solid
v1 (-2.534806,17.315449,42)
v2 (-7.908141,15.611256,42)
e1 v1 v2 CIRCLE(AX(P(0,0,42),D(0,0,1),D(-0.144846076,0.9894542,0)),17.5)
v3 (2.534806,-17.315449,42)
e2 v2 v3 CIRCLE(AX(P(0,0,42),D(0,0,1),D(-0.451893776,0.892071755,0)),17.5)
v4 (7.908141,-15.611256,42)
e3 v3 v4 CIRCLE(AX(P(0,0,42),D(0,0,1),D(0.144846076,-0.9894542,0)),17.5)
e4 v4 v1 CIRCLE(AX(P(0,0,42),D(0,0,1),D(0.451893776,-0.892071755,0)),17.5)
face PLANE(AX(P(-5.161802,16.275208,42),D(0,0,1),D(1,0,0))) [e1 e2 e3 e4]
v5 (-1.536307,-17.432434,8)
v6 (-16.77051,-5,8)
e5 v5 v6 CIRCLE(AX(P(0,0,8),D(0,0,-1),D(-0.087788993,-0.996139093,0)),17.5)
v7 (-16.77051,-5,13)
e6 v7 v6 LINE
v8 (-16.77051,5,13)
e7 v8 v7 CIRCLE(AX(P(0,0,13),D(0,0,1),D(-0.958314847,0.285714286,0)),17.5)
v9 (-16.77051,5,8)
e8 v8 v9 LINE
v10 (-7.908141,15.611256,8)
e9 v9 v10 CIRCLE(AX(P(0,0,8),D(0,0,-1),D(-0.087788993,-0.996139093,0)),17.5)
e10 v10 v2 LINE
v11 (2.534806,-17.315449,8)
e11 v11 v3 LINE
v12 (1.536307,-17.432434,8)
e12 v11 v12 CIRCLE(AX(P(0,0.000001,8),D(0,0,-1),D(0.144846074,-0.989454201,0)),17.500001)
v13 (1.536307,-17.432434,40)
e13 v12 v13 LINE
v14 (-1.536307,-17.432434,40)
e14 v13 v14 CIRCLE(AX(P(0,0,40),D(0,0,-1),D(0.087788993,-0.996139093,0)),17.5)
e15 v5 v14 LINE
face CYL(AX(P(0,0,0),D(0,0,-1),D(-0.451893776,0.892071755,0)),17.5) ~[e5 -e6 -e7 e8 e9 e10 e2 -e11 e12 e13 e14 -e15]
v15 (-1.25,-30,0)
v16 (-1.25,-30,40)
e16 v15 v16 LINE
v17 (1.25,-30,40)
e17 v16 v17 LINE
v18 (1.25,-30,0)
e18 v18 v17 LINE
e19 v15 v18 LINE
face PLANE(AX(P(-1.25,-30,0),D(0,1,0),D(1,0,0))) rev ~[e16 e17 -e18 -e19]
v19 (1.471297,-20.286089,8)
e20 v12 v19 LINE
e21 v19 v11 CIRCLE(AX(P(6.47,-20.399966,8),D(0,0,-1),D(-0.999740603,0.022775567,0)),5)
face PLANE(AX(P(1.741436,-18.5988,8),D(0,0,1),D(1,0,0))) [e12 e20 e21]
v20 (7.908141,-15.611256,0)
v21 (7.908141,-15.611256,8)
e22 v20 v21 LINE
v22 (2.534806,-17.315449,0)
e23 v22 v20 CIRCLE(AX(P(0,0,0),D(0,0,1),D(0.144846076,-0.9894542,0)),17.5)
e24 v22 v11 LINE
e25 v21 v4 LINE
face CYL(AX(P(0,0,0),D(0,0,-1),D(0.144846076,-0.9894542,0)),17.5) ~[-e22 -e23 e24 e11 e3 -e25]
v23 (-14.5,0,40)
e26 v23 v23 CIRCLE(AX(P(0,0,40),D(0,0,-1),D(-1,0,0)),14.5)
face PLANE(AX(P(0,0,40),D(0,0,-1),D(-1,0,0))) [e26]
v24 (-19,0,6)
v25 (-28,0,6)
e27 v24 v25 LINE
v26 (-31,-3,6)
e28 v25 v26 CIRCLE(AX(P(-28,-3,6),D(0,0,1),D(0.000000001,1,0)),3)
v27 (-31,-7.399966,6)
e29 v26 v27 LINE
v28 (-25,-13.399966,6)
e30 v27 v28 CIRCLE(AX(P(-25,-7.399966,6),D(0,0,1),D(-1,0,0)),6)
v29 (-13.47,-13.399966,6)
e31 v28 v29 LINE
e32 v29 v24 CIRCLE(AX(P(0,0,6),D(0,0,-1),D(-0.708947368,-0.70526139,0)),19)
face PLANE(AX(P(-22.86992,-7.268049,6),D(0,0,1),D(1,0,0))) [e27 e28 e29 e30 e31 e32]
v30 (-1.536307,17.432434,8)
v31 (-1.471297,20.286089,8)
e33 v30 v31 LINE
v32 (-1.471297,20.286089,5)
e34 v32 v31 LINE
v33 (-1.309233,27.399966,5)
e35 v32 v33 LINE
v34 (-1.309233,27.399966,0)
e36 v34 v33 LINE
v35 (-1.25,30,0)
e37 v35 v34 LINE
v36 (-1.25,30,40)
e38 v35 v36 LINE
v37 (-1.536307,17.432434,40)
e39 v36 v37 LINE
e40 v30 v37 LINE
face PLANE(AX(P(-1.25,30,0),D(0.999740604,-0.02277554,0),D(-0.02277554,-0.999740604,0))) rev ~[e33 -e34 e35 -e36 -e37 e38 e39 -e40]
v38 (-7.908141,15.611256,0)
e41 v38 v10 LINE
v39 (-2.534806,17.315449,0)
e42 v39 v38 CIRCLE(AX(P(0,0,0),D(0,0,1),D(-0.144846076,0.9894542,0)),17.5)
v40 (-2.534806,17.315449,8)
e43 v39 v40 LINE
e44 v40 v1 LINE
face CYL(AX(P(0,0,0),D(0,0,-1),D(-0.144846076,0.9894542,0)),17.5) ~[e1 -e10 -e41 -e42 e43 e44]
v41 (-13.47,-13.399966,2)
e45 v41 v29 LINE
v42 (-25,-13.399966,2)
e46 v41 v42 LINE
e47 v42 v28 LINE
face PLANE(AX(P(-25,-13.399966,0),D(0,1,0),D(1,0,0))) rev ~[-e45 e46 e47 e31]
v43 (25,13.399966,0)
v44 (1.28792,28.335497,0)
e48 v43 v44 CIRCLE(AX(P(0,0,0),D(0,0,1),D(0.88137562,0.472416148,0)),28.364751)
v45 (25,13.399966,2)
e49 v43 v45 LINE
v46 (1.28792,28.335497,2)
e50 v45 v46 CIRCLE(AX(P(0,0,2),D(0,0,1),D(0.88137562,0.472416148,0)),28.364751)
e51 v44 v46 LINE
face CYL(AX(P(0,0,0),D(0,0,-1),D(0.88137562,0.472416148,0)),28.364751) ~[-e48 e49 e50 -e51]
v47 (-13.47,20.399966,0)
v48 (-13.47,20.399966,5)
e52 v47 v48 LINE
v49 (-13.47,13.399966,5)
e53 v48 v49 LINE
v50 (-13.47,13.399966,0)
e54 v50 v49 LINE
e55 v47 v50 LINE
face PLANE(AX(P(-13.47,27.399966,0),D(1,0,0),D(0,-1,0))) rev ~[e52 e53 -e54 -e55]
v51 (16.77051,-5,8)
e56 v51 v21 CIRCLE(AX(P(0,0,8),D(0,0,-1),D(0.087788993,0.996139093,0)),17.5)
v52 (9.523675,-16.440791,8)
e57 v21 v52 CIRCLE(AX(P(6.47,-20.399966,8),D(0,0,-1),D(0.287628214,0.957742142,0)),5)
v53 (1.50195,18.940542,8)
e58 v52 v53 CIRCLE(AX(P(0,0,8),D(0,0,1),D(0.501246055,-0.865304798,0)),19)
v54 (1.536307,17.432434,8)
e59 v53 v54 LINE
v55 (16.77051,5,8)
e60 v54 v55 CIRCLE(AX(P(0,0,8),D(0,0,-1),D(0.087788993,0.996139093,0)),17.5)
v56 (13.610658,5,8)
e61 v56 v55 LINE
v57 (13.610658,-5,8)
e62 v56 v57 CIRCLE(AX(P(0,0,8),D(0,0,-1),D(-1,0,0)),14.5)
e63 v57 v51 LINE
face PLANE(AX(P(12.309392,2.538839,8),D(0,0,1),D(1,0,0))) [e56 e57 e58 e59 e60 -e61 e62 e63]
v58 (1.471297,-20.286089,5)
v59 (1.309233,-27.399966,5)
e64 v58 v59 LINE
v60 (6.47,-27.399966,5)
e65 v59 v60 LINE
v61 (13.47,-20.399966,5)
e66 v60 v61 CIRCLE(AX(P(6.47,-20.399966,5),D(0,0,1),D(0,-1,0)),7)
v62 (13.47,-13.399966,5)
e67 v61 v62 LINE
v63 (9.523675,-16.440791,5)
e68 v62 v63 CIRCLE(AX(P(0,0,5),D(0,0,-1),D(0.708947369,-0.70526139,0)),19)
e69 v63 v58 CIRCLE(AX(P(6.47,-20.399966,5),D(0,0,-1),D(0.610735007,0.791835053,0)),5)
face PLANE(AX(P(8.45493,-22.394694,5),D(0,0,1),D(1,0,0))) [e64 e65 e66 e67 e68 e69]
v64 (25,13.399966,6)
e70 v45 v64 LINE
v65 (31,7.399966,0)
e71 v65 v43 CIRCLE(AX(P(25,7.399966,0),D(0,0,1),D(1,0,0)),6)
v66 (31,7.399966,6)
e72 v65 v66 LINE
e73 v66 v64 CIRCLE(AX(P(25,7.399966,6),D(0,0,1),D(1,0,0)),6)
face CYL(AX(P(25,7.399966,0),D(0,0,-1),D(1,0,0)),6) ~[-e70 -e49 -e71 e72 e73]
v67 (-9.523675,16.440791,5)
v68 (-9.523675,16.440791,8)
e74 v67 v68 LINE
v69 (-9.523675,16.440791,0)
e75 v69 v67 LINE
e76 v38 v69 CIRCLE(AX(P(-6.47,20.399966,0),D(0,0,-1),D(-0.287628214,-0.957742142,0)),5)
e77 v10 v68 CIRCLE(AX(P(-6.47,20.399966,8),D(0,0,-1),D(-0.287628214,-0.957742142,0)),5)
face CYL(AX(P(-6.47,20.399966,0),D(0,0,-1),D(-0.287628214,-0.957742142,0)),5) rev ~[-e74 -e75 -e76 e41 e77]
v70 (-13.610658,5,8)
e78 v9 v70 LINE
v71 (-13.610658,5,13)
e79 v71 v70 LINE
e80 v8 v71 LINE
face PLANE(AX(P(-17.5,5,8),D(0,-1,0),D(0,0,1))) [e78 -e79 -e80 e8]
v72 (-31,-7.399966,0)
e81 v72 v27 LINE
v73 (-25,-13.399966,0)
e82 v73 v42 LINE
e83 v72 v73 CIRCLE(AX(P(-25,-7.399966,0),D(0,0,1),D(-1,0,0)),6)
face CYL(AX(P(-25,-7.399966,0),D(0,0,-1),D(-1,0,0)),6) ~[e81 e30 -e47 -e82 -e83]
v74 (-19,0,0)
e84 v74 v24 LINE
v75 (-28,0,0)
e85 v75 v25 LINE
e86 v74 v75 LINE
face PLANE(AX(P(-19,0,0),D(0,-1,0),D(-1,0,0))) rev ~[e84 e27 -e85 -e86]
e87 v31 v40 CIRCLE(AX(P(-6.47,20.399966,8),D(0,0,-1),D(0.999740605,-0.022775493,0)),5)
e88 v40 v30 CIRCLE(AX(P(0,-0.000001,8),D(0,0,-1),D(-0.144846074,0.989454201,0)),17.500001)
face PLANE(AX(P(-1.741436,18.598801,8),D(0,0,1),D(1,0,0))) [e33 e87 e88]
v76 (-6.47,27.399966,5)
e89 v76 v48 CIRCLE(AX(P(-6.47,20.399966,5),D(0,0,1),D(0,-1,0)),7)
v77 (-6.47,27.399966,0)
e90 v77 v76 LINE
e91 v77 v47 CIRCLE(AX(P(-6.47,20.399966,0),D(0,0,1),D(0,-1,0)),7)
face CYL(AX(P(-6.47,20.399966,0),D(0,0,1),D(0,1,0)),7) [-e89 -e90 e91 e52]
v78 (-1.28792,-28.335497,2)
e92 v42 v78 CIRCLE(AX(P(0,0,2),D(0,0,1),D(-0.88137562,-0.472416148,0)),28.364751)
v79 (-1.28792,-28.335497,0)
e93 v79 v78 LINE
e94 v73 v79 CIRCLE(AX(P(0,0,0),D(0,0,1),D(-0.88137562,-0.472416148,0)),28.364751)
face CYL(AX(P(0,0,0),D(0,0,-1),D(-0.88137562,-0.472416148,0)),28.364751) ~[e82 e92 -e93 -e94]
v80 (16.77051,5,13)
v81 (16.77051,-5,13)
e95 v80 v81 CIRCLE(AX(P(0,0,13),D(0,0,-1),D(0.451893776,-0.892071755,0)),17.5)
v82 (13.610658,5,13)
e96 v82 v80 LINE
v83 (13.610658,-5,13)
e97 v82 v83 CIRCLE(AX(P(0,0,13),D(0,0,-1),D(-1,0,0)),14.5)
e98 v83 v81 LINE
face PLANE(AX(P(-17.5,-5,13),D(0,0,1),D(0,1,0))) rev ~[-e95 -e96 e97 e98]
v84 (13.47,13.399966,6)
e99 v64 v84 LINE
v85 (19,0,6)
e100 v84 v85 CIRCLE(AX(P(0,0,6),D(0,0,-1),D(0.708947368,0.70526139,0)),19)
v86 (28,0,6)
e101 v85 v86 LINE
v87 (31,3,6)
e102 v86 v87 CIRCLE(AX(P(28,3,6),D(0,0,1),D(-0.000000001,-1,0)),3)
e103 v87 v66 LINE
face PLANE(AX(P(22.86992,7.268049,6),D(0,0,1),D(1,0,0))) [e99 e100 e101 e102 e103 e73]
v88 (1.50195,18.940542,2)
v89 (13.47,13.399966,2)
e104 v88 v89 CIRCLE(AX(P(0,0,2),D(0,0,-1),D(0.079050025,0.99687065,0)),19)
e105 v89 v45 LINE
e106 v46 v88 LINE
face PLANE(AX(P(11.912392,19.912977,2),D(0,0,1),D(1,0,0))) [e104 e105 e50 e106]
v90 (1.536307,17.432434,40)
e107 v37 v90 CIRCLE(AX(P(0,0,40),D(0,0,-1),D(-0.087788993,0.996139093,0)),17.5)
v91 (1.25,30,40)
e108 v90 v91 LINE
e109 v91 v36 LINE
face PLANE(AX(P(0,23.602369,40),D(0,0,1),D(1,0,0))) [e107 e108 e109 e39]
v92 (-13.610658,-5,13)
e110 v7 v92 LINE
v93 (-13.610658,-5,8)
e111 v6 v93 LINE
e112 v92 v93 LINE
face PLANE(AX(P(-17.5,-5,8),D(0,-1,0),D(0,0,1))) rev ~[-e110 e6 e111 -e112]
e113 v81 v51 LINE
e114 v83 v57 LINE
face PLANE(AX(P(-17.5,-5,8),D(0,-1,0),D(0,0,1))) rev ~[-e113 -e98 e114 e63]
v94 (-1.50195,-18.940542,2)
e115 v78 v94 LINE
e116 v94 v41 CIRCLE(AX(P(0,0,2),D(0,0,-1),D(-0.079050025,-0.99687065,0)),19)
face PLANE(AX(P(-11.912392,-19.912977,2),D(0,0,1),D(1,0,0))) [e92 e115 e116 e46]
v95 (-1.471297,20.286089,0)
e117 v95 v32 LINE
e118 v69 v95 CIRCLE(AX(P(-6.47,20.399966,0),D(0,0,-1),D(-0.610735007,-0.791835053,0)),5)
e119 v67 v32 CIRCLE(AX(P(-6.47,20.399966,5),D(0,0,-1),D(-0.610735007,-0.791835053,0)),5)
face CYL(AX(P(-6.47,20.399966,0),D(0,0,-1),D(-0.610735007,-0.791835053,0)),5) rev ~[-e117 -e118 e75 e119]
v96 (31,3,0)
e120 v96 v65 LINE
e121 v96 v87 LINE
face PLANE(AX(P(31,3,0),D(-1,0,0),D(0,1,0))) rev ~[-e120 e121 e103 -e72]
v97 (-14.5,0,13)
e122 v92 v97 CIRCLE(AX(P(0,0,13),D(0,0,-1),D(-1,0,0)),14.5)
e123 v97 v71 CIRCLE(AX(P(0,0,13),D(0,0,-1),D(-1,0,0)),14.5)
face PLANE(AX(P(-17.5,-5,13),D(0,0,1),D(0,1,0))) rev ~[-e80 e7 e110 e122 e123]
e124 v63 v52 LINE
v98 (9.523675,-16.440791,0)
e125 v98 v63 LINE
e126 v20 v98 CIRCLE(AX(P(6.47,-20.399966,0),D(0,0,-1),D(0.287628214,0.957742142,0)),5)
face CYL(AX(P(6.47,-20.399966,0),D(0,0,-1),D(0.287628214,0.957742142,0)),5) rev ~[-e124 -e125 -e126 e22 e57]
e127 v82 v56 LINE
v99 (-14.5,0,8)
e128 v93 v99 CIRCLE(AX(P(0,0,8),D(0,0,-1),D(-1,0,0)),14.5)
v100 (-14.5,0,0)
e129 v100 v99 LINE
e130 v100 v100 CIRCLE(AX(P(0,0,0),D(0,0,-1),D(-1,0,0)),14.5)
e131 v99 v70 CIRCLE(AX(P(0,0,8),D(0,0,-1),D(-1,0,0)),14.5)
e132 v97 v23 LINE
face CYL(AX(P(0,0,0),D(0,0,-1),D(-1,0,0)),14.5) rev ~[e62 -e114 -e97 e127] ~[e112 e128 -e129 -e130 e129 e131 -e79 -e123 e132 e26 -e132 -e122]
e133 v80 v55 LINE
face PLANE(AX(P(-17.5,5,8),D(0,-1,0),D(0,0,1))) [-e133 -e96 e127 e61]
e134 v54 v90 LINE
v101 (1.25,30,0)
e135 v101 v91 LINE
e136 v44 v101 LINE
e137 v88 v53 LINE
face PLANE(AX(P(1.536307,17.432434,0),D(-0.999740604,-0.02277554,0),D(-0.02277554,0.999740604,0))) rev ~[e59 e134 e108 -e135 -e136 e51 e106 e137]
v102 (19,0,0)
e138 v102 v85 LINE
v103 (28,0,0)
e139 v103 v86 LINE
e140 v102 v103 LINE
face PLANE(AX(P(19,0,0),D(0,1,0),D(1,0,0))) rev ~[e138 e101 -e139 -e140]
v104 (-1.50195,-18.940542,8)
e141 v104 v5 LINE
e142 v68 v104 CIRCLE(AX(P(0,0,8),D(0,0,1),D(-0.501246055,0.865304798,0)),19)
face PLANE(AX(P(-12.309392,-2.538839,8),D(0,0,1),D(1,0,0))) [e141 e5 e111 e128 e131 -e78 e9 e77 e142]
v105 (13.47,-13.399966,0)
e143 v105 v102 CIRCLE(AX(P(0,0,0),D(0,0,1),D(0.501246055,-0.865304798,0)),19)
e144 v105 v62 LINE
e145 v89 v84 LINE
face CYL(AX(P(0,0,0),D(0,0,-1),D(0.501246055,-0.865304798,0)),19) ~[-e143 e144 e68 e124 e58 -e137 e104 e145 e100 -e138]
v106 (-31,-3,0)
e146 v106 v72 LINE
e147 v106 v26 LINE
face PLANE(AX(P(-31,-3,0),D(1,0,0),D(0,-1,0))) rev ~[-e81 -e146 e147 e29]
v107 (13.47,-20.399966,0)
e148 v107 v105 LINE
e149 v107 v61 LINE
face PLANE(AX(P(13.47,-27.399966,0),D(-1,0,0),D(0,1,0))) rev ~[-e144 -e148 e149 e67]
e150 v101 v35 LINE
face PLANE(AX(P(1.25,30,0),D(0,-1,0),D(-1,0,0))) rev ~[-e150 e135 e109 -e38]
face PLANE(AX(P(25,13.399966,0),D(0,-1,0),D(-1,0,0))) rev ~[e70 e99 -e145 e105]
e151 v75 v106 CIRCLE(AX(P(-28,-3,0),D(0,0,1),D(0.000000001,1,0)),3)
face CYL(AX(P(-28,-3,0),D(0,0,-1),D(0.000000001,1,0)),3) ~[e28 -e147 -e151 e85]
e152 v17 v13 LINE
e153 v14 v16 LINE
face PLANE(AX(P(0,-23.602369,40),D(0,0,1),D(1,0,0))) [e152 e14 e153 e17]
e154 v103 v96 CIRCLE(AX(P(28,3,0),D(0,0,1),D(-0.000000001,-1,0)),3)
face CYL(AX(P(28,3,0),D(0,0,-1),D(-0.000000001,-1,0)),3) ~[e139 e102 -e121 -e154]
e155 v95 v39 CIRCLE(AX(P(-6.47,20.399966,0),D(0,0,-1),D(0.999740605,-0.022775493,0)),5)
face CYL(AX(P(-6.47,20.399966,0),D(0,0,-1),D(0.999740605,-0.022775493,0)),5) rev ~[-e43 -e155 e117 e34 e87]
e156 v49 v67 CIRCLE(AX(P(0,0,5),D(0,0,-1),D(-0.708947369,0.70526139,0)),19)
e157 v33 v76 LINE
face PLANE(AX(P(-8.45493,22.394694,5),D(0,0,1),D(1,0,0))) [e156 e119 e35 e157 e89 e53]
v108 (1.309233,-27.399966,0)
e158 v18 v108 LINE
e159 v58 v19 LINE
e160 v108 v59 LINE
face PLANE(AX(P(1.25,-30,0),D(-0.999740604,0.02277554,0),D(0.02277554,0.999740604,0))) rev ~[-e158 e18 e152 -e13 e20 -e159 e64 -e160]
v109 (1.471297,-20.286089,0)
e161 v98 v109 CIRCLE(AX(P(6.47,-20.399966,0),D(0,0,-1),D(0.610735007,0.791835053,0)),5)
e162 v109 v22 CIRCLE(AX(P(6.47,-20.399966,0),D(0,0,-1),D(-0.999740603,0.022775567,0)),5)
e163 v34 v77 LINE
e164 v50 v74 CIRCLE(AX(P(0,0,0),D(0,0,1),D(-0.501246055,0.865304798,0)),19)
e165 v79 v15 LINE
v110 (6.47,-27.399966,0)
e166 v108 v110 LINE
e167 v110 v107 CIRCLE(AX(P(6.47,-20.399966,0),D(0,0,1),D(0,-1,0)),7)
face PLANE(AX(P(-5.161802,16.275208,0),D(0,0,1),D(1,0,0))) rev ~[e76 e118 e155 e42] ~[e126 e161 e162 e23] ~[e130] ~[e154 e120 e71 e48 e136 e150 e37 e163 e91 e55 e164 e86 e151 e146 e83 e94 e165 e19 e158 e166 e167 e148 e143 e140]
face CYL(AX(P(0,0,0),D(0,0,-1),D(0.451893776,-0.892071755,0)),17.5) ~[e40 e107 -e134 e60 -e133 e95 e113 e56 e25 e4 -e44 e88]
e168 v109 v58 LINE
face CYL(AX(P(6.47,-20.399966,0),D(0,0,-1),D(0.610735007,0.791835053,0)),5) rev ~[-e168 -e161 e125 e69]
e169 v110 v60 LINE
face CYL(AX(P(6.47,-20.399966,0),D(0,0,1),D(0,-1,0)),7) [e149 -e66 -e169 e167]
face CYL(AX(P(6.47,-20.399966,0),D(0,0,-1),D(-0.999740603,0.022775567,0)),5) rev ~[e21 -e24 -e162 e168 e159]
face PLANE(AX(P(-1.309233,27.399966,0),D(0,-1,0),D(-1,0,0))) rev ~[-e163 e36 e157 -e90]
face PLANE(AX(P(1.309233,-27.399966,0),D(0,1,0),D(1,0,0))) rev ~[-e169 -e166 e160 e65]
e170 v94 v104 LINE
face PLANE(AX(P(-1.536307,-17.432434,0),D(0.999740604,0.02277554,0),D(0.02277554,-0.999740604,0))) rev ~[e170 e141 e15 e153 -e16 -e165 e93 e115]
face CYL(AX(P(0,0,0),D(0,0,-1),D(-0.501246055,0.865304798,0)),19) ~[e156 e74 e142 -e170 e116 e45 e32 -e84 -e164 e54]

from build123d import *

# Parameters (mm, degrees)
BOSS_EXTRUDE1_DEPTH   = 5
BOSS_EXTRUDE1_2_DEPTH = 5
BOSS_EXTRUDE2_DEPTH   = 40
BOSS_EXTRUDE3_DEPTH   = 42
BOSS_EXTRUDE4_DEPTH   = 8
BOSS_EXTRUDE5_DEPTH   = 6
BOSS_EXTRUDE6_DEPTH   = 2
FILLET1_R             = 7
BOSS_EXTRUDE7_DEPTH   = 42
SKETCH2_R             = 14.5
CUT_EXTRUDE1_DEPTH    = 40
SKETCH3_W             = 5
SKETCH3_H             = 10
CUT_EXTRUDE2_DEPTH    = 40


with BuildPart() as part:
    # Sketch1 → Boss-Extrude1 (new body)
    with BuildSketch(Plane.XY):
        with BuildLine():
            Line((-13.47, 27.399966418), (-13.47, 13.399966418))
            ThreePointArc((-13.47, 13.399966418), (-11.596936091, 15.050284825), (-9.523675037, 16.440791154))
            ThreePointArc((-9.523675037, 16.440791154), (-8.624614178, 24.911910317), (-1.471296976, 20.286088952))
            Line((-1.471296976, 20.286088952), (-1.309232534, 27.399966418))
            Line((-1.309232534, 27.399966418), (-13.47, 27.399966418))
        make_face()
    extrude(amount=BOSS_EXTRUDE1_DEPTH)



with BuildPart() as body_2:
    # Sketch1 → Boss-Extrude1 2 (new body)
    with BuildSketch(Plane.XY):
        with BuildLine():
            Line((1.471296984, -20.286088587), (1.309232534, -27.399966418))
            Line((1.309232534, -27.399966418), (13.47, -27.399966418))
            Line((13.47, -27.399966418), (13.47, -13.399966418))
            ThreePointArc((13.47, -13.399966418), (11.596936091, -15.050284825), (9.523675037, -16.440791154))
            ThreePointArc((9.523675037, -16.440791154), (8.624614013, -24.911910395), (1.471296984, -20.286088587))
        make_face()
    extrude(amount=BOSS_EXTRUDE1_2_DEPTH)


with BuildPart() as part_1:
    add(part.part)

    add(body_2.part)  # Boss-Extrude2 merges body 2
    # Sketch1<3> → Boss-Extrude2 (add)
    with BuildSketch(Plane.XY):
        with BuildLine():
            Line((-1.25, 30), (-1.53630737, 17.432434129))
            ThreePointArc((-1.53630737, 17.432434129), (0, 17.5), (1.53630737, 17.432434129))
            Line((1.53630737, 17.432434129), (1.25, 30))
            Line((1.25, 30), (-1.25, 30))
        make_face()
        with BuildLine():
            Line((-1.53630737, -17.432434129), (-1.25, -30))
            Line((-1.25, -30), (1.25, -30))
            Line((1.25, -30), (1.53630737, -17.432434129))
            ThreePointArc((1.53630737, -17.432434129), (0, -17.5), (-1.53630737, -17.432434129))
        make_face()
    extrude(amount=BOSS_EXTRUDE2_DEPTH)

    # Sketch1<4> → Boss-Extrude3 (add)
    with BuildSketch(Plane.XY):
        with BuildLine():
            ThreePointArc((-7.908141071, 15.611255708), (-16.68113138, -5.290544005), (2.534806328, -17.315448504))
            ThreePointArc((2.534806328, -17.315448504), (4.958415999, -15.633928881), (7.908141071, -15.611255708))
            ThreePointArc((7.908141071, -15.611255708), (16.68113138, 5.290544005), (-2.534806328, 17.315448504))
            ThreePointArc((-2.534806328, 17.315448504), (-4.958415999, 15.633928881), (-7.908141071, 15.611255708))
        make_face()
    extrude(amount=BOSS_EXTRUDE3_DEPTH)

    # Sketch1<5> → Boss-Extrude4 (add)
    with BuildSketch(Plane.XY):
        with BuildLine():
            ThreePointArc((-9.523675037, 16.440791154), (-18.529727325, -4.201095719), (-1.501950478, -18.940542357))
            Line((-1.501950478, -18.940542357), (-1.53630737, -17.432434129))
            ThreePointArc((-1.53630737, -17.432434129), (-17.18344439, -3.313493457), (-7.908141071, 15.611255708))
            ThreePointArc((-7.908141071, 15.611255708), (-8.753885998, 15.952060759), (-9.523675037, 16.440791154))
        make_face()
        with BuildLine():
            ThreePointArc((-1.471296976, 20.286088952), (-1.76257993, 18.714678227), (-2.534806328, 17.315448504))
            ThreePointArc((-2.534806328, 17.315448504), (-2.036397087, 17.381112936), (-1.53630737, 17.432434129))
            Line((-1.53630737, 17.432434129), (-1.471296976, 20.286088952))
        make_face()
        with BuildLine():
            Line((1.501950478, 18.940542357), (1.53630737, 17.432434129))
            ThreePointArc((1.53630737, 17.432434129), (17.18344439, 3.313493457), (7.908141071, -15.611255708))
            ThreePointArc((7.908141071, -15.611255708), (8.753885998, -15.952060759), (9.523675037, -16.440791154))
            ThreePointArc((9.523675037, -16.440791154), (18.529727325, 4.201095719), (1.501950478, 18.940542357))
        make_face()
        with BuildLine():
            ThreePointArc((2.534806328, -17.315448504), (2.036397087, -17.381112936), (1.53630737, -17.432434129))
            Line((1.53630737, -17.432434129), (1.471296984, -20.286088587))
            ThreePointArc((1.471296984, -20.286088587), (1.762579992, -18.714678055), (2.534806328, -17.315448504))
        make_face()
    extrude(amount=BOSS_EXTRUDE4_DEPTH)

    # Sketch1<6> → Boss-Extrude5 (add)
    with BuildSketch(Plane.XY):
        with BuildLine():
            ThreePointArc((-13.47, -13.399966418), (-17.563171695, -7.2481032), (-19, 0))
            Line((-19, 0), (-28, 0))
            ThreePointArc((-28, 0), (-30.121320344, -0.878679656), (-31, -3))
            Line((-31, -3), (-31, -7.399966418))
            ThreePointArc((-31, -7.399966418), (-29.242640687, -11.642607105), (-25, -13.399966418))
            Line((-25, -13.399966418), (-13.47, -13.399966418))
        make_face()
        with BuildLine():
            Line((25, 13.399966418), (13.47, 13.399966418))
            ThreePointArc((13.47, 13.399966418), (17.563171695, 7.2481032), (19, 0))
            Line((19, 0), (28, 0))
            ThreePointArc((28, 0), (30.121320344, 0.878679656), (31, 3))
            Line((31, 3), (31, 7.399966418))
            ThreePointArc((31, 7.399966418), (29.242640687, 11.642607105), (25, 13.399966418))
        make_face()
    extrude(amount=BOSS_EXTRUDE5_DEPTH)

    # Sketch1<7> → Boss-Extrude6 (add)
    with BuildSketch(Plane.XY):
        with BuildLine():
            ThreePointArc((-1.501950478, -18.940542357), (-7.982125075, -17.241974344), (-13.47, -13.399966418))
            Line((-13.47, -13.399966418), (-25, -13.399966418))
            ThreePointArc((-25, -13.399966418), (-15.117248317, -24.000581312), (-1.287919802, -28.335496512))
            Line((-1.287919802, -28.335496512), (-1.501950478, -18.940542357))
        make_face()
        with BuildLine():
            Line((1.287919802, 28.335496512), (1.501950478, 18.940542357))
            ThreePointArc((1.501950478, 18.940542357), (7.982125075, 17.241974344), (13.47, 13.399966418))
            Line((13.47, 13.399966418), (25, 13.399966418))
            ThreePointArc((25, 13.399966418), (15.117248317, 24.000581312), (1.287919802, 28.335496512))
        make_face()
    extrude(amount=BOSS_EXTRUDE6_DEPTH)

    # Fillet1
    fillet1_edges = [part_1.edges().sort_by_distance(p)[0] for p in [
        (13.47, -27.399966418, 2.5),
        (-13.47, 27.399966418, 2.5),
    ]]
    fillet(fillet1_edges, radius=FILLET1_R)

    # Sketch1<8> → Boss-Extrude7 (add)
    with BuildSketch(Plane.XY):
        with BuildLine():
            ThreePointArc((-2.534806328, 17.315448504), (-5.290544005, 16.68113138), (-7.908141071, 15.611255708))
            ThreePointArc((-7.908141071, 15.611255708), (-4.958415999, 15.633928881), (-2.534806328, 17.315448504))
        make_face()
        with BuildLine():
            ThreePointArc((7.908141071, -15.611255708), (4.958415999, -15.633928881), (2.534806328, -17.315448504))
            ThreePointArc((2.534806328, -17.315448504), (5.290544005, -16.68113138), (7.908141071, -15.611255708))
        make_face()
    extrude(amount=BOSS_EXTRUDE7_DEPTH)

    # Sketch2 → Cut-Extrude1 (cut)
    with BuildSketch(Plane(origin=(0, 0, 0), x_dir=(-1, 0, 0), z_dir=(0, 0, -1))):
        Circle(SKETCH2_R)
    extrude(amount=-CUT_EXTRUDE1_DEPTH, mode=Mode.SUBTRACT)

    # Sketch3 → Cut-Extrude2 (cut)
    with BuildSketch(Plane.ZY.offset(17.5)):
        with Locations((10.5, 0)):
            Rectangle(SKETCH3_W, SKETCH3_H)
    extrude(amount=-CUT_EXTRUDE2_DEPTH, mode=Mode.SUBTRACT)


solid = part_1.part
